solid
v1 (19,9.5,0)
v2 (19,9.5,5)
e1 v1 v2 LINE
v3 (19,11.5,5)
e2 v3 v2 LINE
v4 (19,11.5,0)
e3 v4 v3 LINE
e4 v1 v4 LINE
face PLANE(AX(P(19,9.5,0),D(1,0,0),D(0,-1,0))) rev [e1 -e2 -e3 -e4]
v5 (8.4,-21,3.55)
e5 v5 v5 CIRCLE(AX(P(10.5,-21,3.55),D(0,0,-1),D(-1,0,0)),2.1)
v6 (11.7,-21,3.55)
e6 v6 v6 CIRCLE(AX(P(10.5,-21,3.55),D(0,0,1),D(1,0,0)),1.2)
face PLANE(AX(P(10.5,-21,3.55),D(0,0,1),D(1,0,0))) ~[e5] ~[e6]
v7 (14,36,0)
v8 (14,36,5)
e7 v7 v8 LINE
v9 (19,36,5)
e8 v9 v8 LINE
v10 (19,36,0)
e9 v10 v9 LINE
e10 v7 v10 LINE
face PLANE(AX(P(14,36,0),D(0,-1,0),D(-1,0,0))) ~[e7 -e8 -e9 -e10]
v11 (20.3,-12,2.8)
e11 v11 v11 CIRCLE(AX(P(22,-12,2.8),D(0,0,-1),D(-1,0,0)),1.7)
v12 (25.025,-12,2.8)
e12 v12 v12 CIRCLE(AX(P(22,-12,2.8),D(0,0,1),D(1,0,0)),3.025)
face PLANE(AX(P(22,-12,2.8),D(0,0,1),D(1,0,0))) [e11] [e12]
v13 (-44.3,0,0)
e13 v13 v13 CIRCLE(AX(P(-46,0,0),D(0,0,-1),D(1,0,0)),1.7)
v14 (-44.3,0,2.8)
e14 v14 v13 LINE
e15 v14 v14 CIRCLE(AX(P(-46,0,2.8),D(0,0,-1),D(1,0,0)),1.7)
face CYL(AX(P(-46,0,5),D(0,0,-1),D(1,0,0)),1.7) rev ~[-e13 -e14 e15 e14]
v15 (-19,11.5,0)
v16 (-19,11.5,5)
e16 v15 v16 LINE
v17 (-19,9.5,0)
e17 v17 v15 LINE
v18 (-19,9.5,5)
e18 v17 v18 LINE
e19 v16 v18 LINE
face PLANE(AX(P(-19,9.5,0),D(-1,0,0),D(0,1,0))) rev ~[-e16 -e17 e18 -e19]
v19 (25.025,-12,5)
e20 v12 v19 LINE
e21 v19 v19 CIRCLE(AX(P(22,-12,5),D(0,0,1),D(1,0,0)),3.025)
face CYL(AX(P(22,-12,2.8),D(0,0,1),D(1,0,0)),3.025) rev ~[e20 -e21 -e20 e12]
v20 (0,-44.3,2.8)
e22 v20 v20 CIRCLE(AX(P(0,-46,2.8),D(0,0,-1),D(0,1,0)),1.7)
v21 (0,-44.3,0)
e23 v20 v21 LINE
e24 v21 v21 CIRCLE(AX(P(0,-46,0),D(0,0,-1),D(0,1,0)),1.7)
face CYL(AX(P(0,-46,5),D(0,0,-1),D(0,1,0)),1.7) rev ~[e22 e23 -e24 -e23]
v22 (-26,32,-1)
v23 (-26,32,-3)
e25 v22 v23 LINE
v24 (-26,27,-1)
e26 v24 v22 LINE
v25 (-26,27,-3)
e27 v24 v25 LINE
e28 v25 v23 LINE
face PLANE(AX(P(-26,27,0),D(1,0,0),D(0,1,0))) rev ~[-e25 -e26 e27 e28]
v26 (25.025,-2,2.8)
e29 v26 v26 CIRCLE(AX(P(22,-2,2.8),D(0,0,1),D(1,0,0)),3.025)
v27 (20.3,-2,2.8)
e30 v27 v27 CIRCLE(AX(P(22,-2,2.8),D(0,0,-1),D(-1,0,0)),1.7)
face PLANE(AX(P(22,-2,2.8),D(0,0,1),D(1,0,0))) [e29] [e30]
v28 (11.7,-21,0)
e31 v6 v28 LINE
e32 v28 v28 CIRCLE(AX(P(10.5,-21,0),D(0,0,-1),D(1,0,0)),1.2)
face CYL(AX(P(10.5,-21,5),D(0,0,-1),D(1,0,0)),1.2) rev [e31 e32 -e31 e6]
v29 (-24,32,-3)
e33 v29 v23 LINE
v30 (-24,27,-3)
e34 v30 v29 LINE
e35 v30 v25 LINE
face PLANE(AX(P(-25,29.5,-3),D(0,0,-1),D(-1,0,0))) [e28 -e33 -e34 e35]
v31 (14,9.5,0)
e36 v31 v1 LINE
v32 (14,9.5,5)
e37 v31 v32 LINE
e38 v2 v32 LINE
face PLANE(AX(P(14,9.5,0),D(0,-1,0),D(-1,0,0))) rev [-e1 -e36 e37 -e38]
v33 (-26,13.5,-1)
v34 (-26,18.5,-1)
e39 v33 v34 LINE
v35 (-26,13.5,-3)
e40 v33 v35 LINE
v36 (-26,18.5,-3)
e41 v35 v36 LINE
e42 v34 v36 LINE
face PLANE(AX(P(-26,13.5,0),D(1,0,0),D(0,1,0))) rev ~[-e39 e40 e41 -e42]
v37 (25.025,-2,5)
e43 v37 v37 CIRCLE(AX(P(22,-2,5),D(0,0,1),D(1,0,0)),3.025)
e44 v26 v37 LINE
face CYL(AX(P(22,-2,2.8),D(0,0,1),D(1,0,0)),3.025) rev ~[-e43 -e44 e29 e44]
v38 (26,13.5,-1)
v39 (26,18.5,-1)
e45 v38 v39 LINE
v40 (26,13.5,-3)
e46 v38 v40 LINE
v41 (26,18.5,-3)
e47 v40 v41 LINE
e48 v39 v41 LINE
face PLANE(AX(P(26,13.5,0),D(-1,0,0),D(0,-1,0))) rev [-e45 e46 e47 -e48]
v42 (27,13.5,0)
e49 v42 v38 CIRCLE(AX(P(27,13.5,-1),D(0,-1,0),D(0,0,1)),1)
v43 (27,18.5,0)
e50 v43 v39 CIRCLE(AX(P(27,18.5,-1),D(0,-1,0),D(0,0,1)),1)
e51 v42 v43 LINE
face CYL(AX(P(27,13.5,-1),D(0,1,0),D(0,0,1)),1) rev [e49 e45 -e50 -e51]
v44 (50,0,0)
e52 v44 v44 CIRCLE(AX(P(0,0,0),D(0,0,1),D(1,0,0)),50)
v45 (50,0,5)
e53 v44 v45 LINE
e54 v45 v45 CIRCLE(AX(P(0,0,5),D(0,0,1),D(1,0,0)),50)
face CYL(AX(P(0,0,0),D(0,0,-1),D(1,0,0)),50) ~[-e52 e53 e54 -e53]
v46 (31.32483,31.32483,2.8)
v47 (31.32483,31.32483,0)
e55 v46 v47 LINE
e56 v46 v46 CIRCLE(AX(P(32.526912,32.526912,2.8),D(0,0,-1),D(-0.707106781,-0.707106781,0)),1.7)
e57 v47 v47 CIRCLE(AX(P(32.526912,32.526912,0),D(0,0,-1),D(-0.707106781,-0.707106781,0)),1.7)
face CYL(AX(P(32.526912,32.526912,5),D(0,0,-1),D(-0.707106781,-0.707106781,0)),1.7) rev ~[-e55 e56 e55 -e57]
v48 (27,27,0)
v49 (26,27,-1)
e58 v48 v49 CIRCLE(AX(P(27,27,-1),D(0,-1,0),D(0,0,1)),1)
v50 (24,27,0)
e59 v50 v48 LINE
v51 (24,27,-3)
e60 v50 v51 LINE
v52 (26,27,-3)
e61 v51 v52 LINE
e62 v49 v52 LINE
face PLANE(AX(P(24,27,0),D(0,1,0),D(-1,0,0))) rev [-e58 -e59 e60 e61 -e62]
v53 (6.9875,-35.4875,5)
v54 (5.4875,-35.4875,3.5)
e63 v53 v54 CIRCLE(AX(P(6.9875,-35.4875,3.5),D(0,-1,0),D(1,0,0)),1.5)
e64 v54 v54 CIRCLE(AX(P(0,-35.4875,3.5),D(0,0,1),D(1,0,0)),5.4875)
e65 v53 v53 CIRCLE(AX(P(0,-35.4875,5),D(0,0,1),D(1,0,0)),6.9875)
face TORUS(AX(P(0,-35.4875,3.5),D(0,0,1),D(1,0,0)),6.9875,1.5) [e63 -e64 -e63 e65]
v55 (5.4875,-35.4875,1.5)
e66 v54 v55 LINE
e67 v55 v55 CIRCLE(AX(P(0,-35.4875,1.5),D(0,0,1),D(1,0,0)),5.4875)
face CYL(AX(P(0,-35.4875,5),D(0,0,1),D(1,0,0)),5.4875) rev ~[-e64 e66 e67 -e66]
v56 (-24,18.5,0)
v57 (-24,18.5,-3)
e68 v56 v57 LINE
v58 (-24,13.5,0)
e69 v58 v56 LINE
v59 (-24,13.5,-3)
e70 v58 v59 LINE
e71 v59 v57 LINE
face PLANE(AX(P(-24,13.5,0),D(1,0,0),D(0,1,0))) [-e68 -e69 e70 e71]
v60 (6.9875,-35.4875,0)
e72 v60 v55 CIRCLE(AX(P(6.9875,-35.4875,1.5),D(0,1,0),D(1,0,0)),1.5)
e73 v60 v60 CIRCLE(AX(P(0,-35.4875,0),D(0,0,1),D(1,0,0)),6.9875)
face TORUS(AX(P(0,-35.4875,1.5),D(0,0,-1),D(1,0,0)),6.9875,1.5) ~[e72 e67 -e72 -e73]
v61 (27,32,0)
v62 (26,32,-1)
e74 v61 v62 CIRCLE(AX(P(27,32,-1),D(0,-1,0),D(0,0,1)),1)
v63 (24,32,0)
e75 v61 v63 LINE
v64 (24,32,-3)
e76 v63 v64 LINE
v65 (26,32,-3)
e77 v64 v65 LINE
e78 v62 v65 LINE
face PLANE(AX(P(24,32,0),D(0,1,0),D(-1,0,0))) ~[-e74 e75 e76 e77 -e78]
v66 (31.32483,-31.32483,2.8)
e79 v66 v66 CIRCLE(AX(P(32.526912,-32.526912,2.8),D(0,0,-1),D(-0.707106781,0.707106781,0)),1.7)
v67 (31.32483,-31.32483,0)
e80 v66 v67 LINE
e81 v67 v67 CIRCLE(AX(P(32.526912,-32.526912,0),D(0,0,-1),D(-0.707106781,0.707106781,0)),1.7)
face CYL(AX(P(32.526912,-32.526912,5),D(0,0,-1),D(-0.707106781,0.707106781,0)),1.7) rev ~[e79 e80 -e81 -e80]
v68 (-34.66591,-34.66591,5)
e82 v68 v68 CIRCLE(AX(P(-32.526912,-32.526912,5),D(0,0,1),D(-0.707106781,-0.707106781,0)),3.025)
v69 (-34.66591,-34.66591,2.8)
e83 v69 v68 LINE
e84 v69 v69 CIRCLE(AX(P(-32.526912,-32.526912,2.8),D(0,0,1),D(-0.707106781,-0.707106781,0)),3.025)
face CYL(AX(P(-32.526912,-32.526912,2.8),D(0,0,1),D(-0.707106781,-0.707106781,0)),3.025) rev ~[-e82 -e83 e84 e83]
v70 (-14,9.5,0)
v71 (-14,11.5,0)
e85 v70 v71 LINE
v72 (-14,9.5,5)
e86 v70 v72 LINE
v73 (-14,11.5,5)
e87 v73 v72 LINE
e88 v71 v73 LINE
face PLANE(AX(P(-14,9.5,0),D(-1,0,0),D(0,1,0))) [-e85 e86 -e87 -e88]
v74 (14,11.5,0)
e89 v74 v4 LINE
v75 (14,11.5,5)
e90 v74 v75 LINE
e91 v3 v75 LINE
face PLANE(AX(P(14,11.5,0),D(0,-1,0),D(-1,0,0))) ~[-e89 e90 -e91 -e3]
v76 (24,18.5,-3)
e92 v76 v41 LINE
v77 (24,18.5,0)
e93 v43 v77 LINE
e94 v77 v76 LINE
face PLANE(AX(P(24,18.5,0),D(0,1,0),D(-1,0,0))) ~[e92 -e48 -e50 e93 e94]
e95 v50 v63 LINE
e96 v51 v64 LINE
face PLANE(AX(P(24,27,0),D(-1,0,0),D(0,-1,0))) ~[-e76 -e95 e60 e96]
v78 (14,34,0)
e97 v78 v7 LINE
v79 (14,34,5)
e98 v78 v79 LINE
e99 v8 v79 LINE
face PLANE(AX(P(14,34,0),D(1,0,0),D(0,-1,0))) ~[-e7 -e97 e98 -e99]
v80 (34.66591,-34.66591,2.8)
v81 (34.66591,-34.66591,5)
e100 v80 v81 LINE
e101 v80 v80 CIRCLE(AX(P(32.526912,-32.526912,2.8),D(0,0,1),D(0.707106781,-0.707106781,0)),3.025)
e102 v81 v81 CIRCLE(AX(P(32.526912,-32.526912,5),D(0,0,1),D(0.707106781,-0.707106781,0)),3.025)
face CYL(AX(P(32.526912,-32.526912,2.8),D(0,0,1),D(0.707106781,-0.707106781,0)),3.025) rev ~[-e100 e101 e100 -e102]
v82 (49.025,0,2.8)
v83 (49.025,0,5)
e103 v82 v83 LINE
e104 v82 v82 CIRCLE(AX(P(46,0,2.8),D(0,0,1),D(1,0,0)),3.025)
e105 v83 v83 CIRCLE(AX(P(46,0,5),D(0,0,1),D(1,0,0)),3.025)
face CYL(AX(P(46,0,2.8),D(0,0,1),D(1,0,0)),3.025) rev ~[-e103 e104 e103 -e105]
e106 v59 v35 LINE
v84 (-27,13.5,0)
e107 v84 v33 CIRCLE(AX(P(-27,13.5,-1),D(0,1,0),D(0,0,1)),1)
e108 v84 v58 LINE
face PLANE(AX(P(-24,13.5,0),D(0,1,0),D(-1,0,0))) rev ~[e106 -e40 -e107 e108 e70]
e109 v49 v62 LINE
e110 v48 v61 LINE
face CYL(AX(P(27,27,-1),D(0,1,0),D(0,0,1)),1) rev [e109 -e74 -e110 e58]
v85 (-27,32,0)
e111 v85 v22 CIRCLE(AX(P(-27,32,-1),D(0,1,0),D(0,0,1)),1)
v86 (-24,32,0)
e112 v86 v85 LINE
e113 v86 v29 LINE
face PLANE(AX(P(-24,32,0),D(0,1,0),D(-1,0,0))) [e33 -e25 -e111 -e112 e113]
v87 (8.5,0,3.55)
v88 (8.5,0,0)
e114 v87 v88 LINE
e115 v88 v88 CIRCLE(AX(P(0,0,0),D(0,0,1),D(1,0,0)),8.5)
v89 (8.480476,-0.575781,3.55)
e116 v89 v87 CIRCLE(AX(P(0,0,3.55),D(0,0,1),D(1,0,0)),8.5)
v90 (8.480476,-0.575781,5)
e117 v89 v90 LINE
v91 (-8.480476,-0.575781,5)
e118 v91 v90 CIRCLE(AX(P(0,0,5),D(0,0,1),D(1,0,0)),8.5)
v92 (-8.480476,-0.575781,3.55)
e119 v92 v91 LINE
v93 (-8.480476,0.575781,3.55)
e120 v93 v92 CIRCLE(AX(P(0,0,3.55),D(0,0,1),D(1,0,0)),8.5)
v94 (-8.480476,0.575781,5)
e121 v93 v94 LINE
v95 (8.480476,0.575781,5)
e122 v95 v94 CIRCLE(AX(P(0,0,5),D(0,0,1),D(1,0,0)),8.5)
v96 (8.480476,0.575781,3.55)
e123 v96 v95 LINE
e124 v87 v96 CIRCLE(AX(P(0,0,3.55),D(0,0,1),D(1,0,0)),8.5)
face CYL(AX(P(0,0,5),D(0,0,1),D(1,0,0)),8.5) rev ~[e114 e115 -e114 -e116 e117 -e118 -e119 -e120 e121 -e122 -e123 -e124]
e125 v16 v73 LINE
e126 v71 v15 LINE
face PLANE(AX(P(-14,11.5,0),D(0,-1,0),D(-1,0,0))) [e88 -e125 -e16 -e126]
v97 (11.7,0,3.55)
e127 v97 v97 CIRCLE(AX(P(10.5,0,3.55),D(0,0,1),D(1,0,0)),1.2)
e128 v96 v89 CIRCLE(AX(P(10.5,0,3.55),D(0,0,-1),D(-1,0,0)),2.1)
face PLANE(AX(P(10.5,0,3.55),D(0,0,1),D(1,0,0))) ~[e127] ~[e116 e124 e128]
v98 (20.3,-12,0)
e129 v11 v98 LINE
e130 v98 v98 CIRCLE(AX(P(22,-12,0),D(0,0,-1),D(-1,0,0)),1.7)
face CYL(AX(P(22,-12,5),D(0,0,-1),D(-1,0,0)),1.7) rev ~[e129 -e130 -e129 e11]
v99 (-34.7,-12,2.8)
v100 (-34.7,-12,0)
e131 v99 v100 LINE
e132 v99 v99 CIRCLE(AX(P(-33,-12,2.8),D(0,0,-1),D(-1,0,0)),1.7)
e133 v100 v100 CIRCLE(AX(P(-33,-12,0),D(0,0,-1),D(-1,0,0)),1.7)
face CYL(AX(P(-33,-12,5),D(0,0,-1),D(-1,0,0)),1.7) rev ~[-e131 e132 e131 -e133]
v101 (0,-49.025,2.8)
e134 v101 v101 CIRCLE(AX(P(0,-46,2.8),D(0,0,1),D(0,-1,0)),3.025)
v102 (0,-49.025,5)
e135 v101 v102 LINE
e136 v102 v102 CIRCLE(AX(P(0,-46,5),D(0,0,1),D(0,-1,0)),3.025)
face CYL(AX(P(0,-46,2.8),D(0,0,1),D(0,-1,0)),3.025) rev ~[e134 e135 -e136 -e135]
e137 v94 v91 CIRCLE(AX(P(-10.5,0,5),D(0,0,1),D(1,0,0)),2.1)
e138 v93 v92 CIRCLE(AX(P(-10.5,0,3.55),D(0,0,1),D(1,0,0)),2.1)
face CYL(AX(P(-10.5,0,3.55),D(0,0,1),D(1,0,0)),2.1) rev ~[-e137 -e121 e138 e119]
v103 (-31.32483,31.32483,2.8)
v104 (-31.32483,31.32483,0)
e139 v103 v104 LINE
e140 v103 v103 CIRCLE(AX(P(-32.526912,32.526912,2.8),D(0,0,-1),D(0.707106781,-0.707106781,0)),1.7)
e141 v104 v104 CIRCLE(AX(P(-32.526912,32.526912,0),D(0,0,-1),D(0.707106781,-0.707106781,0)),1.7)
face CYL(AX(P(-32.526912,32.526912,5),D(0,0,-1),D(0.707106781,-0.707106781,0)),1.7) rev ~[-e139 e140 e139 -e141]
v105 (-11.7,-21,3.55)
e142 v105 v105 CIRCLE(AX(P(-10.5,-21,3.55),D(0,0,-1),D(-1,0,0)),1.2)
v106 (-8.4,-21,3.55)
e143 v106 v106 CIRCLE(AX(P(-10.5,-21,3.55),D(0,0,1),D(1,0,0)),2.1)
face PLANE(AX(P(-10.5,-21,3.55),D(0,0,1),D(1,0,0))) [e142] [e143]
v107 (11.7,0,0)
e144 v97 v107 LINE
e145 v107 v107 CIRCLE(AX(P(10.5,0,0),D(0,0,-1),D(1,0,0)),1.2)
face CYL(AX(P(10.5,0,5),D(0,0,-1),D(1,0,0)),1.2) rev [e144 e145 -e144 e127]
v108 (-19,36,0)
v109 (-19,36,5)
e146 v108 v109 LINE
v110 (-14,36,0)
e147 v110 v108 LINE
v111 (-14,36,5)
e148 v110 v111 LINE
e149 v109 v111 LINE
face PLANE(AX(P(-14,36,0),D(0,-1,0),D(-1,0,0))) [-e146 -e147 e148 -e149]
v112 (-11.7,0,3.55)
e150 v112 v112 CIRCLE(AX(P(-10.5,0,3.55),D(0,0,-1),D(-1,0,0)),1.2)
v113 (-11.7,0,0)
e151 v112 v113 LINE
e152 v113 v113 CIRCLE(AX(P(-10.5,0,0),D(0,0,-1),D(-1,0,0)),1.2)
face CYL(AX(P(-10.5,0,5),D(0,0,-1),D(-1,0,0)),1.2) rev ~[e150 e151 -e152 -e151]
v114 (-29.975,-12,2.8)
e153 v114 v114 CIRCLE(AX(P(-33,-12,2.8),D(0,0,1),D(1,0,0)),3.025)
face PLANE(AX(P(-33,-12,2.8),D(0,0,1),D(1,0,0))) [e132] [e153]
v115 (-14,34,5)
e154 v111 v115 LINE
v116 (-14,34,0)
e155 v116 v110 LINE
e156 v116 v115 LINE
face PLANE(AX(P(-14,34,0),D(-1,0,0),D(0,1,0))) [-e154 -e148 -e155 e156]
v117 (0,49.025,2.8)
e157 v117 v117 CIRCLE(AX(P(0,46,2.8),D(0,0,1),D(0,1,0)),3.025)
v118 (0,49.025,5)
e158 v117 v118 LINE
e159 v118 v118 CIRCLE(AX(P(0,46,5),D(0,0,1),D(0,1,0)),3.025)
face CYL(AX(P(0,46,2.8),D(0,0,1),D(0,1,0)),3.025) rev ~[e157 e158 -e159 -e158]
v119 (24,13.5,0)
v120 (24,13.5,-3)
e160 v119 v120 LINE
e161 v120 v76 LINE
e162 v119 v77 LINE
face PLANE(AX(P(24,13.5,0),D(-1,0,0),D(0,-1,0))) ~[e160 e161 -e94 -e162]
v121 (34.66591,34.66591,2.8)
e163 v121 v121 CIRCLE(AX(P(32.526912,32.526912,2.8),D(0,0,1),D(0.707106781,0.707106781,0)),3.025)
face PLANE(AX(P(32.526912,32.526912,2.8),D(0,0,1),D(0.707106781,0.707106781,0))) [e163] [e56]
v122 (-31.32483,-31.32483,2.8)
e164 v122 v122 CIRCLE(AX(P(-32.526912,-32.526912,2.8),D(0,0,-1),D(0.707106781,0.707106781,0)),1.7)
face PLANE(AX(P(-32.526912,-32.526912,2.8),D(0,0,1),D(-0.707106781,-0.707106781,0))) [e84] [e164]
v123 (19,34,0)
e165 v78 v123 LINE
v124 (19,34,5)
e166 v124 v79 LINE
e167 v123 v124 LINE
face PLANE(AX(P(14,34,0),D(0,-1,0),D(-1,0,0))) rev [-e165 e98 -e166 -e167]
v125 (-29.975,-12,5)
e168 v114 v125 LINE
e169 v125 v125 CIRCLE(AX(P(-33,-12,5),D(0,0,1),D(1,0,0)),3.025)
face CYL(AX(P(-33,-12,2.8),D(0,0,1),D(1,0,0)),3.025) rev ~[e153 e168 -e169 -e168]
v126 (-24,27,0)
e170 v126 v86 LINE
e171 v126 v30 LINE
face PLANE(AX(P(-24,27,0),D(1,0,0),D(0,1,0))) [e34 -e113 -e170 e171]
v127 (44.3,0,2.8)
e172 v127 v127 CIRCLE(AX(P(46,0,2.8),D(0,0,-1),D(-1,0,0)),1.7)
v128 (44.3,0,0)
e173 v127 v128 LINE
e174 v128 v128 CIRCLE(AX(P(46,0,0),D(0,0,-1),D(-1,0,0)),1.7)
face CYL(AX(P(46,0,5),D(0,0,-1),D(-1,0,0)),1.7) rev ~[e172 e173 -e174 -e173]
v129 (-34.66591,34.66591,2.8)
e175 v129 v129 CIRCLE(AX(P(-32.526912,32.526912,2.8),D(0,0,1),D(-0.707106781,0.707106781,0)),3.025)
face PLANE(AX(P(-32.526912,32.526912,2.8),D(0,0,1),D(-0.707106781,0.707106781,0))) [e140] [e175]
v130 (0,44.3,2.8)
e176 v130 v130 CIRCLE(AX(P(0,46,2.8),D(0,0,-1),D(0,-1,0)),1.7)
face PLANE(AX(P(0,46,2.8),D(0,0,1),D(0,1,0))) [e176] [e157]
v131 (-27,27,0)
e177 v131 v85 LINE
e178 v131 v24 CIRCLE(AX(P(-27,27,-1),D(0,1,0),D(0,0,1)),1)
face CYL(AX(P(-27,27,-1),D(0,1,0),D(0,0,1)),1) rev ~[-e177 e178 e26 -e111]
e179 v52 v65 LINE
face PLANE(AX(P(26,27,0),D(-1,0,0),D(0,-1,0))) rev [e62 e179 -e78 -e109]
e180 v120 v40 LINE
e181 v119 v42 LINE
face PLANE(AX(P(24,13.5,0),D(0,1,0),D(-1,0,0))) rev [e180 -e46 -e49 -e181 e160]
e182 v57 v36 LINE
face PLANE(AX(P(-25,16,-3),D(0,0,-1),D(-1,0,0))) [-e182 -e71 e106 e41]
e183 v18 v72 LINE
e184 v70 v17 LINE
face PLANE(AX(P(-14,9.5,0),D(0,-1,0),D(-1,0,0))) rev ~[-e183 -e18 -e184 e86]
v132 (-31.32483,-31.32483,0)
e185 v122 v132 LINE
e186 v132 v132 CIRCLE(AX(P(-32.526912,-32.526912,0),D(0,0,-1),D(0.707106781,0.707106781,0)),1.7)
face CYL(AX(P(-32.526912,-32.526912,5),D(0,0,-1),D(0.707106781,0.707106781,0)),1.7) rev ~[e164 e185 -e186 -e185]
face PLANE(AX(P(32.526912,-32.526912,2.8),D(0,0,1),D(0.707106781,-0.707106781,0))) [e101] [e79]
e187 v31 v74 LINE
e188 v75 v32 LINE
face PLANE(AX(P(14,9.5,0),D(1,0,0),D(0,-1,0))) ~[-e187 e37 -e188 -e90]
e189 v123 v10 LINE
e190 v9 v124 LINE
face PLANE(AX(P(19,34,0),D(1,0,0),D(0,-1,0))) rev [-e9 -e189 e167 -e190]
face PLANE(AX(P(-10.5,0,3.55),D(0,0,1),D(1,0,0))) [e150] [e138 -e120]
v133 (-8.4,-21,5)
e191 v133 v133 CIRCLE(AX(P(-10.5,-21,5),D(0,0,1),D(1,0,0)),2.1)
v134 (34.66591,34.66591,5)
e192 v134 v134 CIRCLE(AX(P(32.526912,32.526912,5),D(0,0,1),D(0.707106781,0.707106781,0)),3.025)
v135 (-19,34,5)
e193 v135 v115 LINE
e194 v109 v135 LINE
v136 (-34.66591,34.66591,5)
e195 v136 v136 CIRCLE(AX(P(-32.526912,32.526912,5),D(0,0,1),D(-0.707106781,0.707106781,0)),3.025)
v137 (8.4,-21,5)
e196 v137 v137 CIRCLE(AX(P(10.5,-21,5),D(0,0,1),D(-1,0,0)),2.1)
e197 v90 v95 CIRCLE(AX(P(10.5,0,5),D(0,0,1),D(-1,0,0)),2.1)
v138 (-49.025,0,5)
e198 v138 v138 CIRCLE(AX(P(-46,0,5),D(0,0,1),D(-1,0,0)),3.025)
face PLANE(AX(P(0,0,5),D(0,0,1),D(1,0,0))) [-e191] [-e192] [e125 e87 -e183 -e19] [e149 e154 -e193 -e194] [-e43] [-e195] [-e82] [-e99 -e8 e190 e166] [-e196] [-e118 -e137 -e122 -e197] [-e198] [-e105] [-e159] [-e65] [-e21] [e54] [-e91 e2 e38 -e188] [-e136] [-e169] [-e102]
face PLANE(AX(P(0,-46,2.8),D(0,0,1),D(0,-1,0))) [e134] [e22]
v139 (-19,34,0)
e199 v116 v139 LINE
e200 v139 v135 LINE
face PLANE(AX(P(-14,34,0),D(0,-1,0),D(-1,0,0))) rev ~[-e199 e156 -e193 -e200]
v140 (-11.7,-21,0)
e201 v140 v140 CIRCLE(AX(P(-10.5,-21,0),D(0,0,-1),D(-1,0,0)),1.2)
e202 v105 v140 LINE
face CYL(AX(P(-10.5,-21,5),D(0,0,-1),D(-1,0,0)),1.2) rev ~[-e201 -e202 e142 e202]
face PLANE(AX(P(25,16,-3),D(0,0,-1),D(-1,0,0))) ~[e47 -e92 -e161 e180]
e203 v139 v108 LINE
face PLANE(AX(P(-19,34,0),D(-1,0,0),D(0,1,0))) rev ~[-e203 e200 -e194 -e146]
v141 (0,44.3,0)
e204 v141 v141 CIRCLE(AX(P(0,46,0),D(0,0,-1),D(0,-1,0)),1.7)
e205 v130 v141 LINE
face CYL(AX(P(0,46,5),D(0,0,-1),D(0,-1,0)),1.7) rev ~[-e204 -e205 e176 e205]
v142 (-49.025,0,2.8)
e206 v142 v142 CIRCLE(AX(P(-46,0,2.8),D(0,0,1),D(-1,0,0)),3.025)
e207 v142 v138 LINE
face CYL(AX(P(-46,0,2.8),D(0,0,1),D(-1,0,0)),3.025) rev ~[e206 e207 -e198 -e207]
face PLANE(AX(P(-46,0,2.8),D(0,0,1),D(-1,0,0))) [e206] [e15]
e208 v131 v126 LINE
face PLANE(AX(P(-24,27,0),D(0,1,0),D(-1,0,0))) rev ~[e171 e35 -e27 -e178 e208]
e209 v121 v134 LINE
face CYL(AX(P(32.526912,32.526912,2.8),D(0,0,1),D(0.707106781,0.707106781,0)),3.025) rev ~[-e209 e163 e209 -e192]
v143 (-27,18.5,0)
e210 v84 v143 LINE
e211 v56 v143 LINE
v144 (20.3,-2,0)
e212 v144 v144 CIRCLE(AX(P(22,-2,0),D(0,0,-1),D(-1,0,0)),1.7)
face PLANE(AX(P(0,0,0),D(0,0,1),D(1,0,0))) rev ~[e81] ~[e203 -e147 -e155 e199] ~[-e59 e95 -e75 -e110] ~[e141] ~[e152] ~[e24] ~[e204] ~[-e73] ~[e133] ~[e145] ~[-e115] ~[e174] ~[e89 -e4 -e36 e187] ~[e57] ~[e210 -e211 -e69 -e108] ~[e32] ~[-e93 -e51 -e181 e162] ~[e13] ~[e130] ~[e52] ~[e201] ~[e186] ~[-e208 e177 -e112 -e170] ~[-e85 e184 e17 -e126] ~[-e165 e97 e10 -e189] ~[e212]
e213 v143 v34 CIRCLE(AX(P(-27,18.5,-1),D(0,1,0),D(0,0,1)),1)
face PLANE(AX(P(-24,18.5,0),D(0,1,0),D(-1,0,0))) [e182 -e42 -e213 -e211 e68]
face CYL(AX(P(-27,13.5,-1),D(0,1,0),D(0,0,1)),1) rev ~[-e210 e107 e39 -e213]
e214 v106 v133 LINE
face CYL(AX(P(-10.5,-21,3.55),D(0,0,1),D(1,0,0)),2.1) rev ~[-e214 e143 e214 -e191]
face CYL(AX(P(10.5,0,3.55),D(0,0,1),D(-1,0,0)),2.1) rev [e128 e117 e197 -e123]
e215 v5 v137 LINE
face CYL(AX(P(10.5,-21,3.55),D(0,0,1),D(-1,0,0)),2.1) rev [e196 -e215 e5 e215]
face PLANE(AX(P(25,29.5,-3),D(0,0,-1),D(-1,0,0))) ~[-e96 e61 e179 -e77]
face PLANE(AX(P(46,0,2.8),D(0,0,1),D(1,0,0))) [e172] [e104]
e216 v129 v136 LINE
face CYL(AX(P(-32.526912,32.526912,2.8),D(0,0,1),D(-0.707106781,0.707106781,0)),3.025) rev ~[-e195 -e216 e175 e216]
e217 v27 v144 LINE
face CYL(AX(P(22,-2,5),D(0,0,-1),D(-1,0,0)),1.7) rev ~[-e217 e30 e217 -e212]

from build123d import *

# Parameters (mm, degrees)
SKETCH_1_R                   = 50
EXTRUDE_1_DEPTH              = 5
HOLE_WIZARD_M2_1_D           = 2.4
HOLE_WIZARD_M2_1_CBORE_D     = 4.2
HOLE_WIZARD_M2_1_CBORE_DEPTH = 1.45
HOLE_WIZARD_M3_2_D           = 3.4
HOLE_WIZARD_M3_2_CBORE_D     = 6.05
HOLE_WIZARD_M3_2_CBORE_DEPTH = 2.2
PATTERN_CIRCULAR_1_COUNT     = 8
SKETCH_6_R                   = 8.5
CUT_EXTRUDE_1_DEPTH          = 71.887234394
SKETCH_7_R                   = 5.4875
CUT_EXTRUDE_2_DEPTH          = 71.887234394
FILLET_1_R                   = 1.5
HOLE_WIZARD_M3_3_D           = 3.4
HOLE_WIZARD_M3_3_CBORE_D     = 6.05
HOLE_WIZARD_M3_3_CBORE_DEPTH = 2.2
SKETCH_12_W                  = 5
SKETCH_12_H                  = 2
CUT_EXTRUDE_4_DEPTH          = 71.887234394
SKETCH_14_W                  = 2
SKETCH_14_H                  = 5
EXTRUDE_2_DEPTH              = 3
FILLET_2_R                   = 1
FILLET_2_OF_MIRROR_2_R       = 1


with BuildPart() as part:
    # ｽｹｯﾁ1 → ﾎﾞｽ - 押し出し1 (new body)
    with BuildSketch(Plane.XY):
        Circle(SKETCH_1_R)
    extrude(amount=EXTRUDE_1_DEPTH)

    # M2 丸平ねじ用座ぐり穴1 (through all)
    with Locations(Plane.XY.offset(5)):
        with Locations((-10.5, 0), (-10.5, -21)):
            hole_wizard_m2_1 = CounterBoreHole(HOLE_WIZARD_M2_1_D / 2, HOLE_WIZARD_M2_1_CBORE_D / 2, HOLE_WIZARD_M2_1_CBORE_DEPTH)

    # ﾐﾗｰ1: M2 丸平ねじ用座ぐり穴1 across plane
    add(hole_wizard_m2_1.mirror(Plane(origin=(0, 0, 0), x_dir=(0, 0, 1), z_dir=(1, 0, 0))), mode=Mode.SUBTRACT)

    # M3 丸平ねじ用座ぐり穴2 (through all)
    with Locations(Plane.XY.offset(5)):
        with Locations((46, 0)):
            hole_wizard_m3_2 = CounterBoreHole(HOLE_WIZARD_M3_2_D / 2, HOLE_WIZARD_M3_2_CBORE_D / 2, HOLE_WIZARD_M3_2_CBORE_DEPTH)

    # 円形ﾊﾟﾀｰﾝ1: M3 丸平ねじ用座ぐり穴2 ×8 about axis
    pattern_circular_1_axis = Axis((0, 0, 0), (0, 0, 1))
    for i in range(1, PATTERN_CIRCULAR_1_COUNT):
        add(hole_wizard_m3_2.rotate(pattern_circular_1_axis, i * 360 / PATTERN_CIRCULAR_1_COUNT), mode=Mode.SUBTRACT)

    # ｽｹｯﾁ6 → ｶｯﾄ - 押し出し1 (cut, through all)
    with BuildSketch(Plane.XY.offset(5)):
        Circle(SKETCH_6_R)
    extrude(amount=-CUT_EXTRUDE_1_DEPTH, mode=Mode.SUBTRACT)

    # ｽｹｯﾁ7 → ｶｯﾄ - 押し出し2 (cut, through all)
    with BuildSketch(Plane.XY.offset(5)):
        with Locations((0, -35.4875)):
            Circle(SKETCH_7_R)
    extrude(amount=-CUT_EXTRUDE_2_DEPTH, mode=Mode.SUBTRACT)

    # ﾌｨﾚｯﾄ1
    fillet_1_edges = [part.edges().sort_by_distance(p)[0] for p in [
        (-5.4875, -35.4875, 0),
        (-5.4875, -35.4875, 5),
    ]]
    fillet(fillet_1_edges, radius=FILLET_1_R)

    # M3 丸平ねじ用座ぐり穴3 (through all)
    with Locations(Plane.XY.offset(5)):
        with Locations((22, -2), (22, -12), (-33, -12)):
            CounterBoreHole(HOLE_WIZARD_M3_3_D / 2, HOLE_WIZARD_M3_3_CBORE_D / 2, HOLE_WIZARD_M3_3_CBORE_DEPTH)

    # ｽｹｯﾁ12 → ｶｯﾄ - 押し出し4 (cut, through all)
    with BuildSketch(Plane(origin=(0, 0, 0), x_dir=(-1, 0, 0), z_dir=(0, 0, -1))):
        with Locations((16.5, 35)):
            Rectangle(SKETCH_12_W, SKETCH_12_H)
        with Locations((16.5, 10.5)):
            Rectangle(SKETCH_12_W, SKETCH_12_H)
    cut_extrude_4 = extrude(amount=-CUT_EXTRUDE_4_DEPTH, mode=Mode.SUBTRACT)

    # ｽｹｯﾁ14 → ﾎﾞｽ - 押し出し2 (add)
    with BuildSketch(Plane(origin=(0, 0, 0), x_dir=(-1, 0, 0), z_dir=(0, 0, -1))):
        with Locations((25, 29.5)):
            Rectangle(SKETCH_14_W, SKETCH_14_H)
        with Locations((25, 16)):
            Rectangle(SKETCH_14_W, SKETCH_14_H)
    extrude_2 = extrude(amount=EXTRUDE_2_DEPTH)

    # ﾌｨﾚｯﾄ2
    fillet_2_edges = [part.edges().sort_by_distance(p)[0] for p in [
        (-26, 29.5, 0),
        (-26, 16, 0),
    ]]
    fillet(fillet_2_edges, radius=FILLET_2_R)

    # ﾐﾗｰ2: ｶｯﾄ - 押し出し4, ﾎﾞｽ - 押し出し2 across plane
    add(cut_extrude_4.mirror(Plane(origin=(0, 0, 0), x_dir=(0, 0, 1), z_dir=(1, 0, 0))), mode=Mode.SUBTRACT)
    add(extrude_2.mirror(Plane(origin=(0, 0, 0), x_dir=(0, 0, 1), z_dir=(1, 0, 0))))

    # ﾌｨﾚｯﾄ2 of ﾐﾗｰ2
    fillet_2_of_mirror_2_edges = [part.edges().sort_by_distance(p)[0] for p in [
        (26, 29.5, 0),
        (26, 16, 0),
    ]]
    fillet(fillet_2_of_mirror_2_edges, radius=FILLET_2_OF_MIRROR_2_R)


solid = part.part
